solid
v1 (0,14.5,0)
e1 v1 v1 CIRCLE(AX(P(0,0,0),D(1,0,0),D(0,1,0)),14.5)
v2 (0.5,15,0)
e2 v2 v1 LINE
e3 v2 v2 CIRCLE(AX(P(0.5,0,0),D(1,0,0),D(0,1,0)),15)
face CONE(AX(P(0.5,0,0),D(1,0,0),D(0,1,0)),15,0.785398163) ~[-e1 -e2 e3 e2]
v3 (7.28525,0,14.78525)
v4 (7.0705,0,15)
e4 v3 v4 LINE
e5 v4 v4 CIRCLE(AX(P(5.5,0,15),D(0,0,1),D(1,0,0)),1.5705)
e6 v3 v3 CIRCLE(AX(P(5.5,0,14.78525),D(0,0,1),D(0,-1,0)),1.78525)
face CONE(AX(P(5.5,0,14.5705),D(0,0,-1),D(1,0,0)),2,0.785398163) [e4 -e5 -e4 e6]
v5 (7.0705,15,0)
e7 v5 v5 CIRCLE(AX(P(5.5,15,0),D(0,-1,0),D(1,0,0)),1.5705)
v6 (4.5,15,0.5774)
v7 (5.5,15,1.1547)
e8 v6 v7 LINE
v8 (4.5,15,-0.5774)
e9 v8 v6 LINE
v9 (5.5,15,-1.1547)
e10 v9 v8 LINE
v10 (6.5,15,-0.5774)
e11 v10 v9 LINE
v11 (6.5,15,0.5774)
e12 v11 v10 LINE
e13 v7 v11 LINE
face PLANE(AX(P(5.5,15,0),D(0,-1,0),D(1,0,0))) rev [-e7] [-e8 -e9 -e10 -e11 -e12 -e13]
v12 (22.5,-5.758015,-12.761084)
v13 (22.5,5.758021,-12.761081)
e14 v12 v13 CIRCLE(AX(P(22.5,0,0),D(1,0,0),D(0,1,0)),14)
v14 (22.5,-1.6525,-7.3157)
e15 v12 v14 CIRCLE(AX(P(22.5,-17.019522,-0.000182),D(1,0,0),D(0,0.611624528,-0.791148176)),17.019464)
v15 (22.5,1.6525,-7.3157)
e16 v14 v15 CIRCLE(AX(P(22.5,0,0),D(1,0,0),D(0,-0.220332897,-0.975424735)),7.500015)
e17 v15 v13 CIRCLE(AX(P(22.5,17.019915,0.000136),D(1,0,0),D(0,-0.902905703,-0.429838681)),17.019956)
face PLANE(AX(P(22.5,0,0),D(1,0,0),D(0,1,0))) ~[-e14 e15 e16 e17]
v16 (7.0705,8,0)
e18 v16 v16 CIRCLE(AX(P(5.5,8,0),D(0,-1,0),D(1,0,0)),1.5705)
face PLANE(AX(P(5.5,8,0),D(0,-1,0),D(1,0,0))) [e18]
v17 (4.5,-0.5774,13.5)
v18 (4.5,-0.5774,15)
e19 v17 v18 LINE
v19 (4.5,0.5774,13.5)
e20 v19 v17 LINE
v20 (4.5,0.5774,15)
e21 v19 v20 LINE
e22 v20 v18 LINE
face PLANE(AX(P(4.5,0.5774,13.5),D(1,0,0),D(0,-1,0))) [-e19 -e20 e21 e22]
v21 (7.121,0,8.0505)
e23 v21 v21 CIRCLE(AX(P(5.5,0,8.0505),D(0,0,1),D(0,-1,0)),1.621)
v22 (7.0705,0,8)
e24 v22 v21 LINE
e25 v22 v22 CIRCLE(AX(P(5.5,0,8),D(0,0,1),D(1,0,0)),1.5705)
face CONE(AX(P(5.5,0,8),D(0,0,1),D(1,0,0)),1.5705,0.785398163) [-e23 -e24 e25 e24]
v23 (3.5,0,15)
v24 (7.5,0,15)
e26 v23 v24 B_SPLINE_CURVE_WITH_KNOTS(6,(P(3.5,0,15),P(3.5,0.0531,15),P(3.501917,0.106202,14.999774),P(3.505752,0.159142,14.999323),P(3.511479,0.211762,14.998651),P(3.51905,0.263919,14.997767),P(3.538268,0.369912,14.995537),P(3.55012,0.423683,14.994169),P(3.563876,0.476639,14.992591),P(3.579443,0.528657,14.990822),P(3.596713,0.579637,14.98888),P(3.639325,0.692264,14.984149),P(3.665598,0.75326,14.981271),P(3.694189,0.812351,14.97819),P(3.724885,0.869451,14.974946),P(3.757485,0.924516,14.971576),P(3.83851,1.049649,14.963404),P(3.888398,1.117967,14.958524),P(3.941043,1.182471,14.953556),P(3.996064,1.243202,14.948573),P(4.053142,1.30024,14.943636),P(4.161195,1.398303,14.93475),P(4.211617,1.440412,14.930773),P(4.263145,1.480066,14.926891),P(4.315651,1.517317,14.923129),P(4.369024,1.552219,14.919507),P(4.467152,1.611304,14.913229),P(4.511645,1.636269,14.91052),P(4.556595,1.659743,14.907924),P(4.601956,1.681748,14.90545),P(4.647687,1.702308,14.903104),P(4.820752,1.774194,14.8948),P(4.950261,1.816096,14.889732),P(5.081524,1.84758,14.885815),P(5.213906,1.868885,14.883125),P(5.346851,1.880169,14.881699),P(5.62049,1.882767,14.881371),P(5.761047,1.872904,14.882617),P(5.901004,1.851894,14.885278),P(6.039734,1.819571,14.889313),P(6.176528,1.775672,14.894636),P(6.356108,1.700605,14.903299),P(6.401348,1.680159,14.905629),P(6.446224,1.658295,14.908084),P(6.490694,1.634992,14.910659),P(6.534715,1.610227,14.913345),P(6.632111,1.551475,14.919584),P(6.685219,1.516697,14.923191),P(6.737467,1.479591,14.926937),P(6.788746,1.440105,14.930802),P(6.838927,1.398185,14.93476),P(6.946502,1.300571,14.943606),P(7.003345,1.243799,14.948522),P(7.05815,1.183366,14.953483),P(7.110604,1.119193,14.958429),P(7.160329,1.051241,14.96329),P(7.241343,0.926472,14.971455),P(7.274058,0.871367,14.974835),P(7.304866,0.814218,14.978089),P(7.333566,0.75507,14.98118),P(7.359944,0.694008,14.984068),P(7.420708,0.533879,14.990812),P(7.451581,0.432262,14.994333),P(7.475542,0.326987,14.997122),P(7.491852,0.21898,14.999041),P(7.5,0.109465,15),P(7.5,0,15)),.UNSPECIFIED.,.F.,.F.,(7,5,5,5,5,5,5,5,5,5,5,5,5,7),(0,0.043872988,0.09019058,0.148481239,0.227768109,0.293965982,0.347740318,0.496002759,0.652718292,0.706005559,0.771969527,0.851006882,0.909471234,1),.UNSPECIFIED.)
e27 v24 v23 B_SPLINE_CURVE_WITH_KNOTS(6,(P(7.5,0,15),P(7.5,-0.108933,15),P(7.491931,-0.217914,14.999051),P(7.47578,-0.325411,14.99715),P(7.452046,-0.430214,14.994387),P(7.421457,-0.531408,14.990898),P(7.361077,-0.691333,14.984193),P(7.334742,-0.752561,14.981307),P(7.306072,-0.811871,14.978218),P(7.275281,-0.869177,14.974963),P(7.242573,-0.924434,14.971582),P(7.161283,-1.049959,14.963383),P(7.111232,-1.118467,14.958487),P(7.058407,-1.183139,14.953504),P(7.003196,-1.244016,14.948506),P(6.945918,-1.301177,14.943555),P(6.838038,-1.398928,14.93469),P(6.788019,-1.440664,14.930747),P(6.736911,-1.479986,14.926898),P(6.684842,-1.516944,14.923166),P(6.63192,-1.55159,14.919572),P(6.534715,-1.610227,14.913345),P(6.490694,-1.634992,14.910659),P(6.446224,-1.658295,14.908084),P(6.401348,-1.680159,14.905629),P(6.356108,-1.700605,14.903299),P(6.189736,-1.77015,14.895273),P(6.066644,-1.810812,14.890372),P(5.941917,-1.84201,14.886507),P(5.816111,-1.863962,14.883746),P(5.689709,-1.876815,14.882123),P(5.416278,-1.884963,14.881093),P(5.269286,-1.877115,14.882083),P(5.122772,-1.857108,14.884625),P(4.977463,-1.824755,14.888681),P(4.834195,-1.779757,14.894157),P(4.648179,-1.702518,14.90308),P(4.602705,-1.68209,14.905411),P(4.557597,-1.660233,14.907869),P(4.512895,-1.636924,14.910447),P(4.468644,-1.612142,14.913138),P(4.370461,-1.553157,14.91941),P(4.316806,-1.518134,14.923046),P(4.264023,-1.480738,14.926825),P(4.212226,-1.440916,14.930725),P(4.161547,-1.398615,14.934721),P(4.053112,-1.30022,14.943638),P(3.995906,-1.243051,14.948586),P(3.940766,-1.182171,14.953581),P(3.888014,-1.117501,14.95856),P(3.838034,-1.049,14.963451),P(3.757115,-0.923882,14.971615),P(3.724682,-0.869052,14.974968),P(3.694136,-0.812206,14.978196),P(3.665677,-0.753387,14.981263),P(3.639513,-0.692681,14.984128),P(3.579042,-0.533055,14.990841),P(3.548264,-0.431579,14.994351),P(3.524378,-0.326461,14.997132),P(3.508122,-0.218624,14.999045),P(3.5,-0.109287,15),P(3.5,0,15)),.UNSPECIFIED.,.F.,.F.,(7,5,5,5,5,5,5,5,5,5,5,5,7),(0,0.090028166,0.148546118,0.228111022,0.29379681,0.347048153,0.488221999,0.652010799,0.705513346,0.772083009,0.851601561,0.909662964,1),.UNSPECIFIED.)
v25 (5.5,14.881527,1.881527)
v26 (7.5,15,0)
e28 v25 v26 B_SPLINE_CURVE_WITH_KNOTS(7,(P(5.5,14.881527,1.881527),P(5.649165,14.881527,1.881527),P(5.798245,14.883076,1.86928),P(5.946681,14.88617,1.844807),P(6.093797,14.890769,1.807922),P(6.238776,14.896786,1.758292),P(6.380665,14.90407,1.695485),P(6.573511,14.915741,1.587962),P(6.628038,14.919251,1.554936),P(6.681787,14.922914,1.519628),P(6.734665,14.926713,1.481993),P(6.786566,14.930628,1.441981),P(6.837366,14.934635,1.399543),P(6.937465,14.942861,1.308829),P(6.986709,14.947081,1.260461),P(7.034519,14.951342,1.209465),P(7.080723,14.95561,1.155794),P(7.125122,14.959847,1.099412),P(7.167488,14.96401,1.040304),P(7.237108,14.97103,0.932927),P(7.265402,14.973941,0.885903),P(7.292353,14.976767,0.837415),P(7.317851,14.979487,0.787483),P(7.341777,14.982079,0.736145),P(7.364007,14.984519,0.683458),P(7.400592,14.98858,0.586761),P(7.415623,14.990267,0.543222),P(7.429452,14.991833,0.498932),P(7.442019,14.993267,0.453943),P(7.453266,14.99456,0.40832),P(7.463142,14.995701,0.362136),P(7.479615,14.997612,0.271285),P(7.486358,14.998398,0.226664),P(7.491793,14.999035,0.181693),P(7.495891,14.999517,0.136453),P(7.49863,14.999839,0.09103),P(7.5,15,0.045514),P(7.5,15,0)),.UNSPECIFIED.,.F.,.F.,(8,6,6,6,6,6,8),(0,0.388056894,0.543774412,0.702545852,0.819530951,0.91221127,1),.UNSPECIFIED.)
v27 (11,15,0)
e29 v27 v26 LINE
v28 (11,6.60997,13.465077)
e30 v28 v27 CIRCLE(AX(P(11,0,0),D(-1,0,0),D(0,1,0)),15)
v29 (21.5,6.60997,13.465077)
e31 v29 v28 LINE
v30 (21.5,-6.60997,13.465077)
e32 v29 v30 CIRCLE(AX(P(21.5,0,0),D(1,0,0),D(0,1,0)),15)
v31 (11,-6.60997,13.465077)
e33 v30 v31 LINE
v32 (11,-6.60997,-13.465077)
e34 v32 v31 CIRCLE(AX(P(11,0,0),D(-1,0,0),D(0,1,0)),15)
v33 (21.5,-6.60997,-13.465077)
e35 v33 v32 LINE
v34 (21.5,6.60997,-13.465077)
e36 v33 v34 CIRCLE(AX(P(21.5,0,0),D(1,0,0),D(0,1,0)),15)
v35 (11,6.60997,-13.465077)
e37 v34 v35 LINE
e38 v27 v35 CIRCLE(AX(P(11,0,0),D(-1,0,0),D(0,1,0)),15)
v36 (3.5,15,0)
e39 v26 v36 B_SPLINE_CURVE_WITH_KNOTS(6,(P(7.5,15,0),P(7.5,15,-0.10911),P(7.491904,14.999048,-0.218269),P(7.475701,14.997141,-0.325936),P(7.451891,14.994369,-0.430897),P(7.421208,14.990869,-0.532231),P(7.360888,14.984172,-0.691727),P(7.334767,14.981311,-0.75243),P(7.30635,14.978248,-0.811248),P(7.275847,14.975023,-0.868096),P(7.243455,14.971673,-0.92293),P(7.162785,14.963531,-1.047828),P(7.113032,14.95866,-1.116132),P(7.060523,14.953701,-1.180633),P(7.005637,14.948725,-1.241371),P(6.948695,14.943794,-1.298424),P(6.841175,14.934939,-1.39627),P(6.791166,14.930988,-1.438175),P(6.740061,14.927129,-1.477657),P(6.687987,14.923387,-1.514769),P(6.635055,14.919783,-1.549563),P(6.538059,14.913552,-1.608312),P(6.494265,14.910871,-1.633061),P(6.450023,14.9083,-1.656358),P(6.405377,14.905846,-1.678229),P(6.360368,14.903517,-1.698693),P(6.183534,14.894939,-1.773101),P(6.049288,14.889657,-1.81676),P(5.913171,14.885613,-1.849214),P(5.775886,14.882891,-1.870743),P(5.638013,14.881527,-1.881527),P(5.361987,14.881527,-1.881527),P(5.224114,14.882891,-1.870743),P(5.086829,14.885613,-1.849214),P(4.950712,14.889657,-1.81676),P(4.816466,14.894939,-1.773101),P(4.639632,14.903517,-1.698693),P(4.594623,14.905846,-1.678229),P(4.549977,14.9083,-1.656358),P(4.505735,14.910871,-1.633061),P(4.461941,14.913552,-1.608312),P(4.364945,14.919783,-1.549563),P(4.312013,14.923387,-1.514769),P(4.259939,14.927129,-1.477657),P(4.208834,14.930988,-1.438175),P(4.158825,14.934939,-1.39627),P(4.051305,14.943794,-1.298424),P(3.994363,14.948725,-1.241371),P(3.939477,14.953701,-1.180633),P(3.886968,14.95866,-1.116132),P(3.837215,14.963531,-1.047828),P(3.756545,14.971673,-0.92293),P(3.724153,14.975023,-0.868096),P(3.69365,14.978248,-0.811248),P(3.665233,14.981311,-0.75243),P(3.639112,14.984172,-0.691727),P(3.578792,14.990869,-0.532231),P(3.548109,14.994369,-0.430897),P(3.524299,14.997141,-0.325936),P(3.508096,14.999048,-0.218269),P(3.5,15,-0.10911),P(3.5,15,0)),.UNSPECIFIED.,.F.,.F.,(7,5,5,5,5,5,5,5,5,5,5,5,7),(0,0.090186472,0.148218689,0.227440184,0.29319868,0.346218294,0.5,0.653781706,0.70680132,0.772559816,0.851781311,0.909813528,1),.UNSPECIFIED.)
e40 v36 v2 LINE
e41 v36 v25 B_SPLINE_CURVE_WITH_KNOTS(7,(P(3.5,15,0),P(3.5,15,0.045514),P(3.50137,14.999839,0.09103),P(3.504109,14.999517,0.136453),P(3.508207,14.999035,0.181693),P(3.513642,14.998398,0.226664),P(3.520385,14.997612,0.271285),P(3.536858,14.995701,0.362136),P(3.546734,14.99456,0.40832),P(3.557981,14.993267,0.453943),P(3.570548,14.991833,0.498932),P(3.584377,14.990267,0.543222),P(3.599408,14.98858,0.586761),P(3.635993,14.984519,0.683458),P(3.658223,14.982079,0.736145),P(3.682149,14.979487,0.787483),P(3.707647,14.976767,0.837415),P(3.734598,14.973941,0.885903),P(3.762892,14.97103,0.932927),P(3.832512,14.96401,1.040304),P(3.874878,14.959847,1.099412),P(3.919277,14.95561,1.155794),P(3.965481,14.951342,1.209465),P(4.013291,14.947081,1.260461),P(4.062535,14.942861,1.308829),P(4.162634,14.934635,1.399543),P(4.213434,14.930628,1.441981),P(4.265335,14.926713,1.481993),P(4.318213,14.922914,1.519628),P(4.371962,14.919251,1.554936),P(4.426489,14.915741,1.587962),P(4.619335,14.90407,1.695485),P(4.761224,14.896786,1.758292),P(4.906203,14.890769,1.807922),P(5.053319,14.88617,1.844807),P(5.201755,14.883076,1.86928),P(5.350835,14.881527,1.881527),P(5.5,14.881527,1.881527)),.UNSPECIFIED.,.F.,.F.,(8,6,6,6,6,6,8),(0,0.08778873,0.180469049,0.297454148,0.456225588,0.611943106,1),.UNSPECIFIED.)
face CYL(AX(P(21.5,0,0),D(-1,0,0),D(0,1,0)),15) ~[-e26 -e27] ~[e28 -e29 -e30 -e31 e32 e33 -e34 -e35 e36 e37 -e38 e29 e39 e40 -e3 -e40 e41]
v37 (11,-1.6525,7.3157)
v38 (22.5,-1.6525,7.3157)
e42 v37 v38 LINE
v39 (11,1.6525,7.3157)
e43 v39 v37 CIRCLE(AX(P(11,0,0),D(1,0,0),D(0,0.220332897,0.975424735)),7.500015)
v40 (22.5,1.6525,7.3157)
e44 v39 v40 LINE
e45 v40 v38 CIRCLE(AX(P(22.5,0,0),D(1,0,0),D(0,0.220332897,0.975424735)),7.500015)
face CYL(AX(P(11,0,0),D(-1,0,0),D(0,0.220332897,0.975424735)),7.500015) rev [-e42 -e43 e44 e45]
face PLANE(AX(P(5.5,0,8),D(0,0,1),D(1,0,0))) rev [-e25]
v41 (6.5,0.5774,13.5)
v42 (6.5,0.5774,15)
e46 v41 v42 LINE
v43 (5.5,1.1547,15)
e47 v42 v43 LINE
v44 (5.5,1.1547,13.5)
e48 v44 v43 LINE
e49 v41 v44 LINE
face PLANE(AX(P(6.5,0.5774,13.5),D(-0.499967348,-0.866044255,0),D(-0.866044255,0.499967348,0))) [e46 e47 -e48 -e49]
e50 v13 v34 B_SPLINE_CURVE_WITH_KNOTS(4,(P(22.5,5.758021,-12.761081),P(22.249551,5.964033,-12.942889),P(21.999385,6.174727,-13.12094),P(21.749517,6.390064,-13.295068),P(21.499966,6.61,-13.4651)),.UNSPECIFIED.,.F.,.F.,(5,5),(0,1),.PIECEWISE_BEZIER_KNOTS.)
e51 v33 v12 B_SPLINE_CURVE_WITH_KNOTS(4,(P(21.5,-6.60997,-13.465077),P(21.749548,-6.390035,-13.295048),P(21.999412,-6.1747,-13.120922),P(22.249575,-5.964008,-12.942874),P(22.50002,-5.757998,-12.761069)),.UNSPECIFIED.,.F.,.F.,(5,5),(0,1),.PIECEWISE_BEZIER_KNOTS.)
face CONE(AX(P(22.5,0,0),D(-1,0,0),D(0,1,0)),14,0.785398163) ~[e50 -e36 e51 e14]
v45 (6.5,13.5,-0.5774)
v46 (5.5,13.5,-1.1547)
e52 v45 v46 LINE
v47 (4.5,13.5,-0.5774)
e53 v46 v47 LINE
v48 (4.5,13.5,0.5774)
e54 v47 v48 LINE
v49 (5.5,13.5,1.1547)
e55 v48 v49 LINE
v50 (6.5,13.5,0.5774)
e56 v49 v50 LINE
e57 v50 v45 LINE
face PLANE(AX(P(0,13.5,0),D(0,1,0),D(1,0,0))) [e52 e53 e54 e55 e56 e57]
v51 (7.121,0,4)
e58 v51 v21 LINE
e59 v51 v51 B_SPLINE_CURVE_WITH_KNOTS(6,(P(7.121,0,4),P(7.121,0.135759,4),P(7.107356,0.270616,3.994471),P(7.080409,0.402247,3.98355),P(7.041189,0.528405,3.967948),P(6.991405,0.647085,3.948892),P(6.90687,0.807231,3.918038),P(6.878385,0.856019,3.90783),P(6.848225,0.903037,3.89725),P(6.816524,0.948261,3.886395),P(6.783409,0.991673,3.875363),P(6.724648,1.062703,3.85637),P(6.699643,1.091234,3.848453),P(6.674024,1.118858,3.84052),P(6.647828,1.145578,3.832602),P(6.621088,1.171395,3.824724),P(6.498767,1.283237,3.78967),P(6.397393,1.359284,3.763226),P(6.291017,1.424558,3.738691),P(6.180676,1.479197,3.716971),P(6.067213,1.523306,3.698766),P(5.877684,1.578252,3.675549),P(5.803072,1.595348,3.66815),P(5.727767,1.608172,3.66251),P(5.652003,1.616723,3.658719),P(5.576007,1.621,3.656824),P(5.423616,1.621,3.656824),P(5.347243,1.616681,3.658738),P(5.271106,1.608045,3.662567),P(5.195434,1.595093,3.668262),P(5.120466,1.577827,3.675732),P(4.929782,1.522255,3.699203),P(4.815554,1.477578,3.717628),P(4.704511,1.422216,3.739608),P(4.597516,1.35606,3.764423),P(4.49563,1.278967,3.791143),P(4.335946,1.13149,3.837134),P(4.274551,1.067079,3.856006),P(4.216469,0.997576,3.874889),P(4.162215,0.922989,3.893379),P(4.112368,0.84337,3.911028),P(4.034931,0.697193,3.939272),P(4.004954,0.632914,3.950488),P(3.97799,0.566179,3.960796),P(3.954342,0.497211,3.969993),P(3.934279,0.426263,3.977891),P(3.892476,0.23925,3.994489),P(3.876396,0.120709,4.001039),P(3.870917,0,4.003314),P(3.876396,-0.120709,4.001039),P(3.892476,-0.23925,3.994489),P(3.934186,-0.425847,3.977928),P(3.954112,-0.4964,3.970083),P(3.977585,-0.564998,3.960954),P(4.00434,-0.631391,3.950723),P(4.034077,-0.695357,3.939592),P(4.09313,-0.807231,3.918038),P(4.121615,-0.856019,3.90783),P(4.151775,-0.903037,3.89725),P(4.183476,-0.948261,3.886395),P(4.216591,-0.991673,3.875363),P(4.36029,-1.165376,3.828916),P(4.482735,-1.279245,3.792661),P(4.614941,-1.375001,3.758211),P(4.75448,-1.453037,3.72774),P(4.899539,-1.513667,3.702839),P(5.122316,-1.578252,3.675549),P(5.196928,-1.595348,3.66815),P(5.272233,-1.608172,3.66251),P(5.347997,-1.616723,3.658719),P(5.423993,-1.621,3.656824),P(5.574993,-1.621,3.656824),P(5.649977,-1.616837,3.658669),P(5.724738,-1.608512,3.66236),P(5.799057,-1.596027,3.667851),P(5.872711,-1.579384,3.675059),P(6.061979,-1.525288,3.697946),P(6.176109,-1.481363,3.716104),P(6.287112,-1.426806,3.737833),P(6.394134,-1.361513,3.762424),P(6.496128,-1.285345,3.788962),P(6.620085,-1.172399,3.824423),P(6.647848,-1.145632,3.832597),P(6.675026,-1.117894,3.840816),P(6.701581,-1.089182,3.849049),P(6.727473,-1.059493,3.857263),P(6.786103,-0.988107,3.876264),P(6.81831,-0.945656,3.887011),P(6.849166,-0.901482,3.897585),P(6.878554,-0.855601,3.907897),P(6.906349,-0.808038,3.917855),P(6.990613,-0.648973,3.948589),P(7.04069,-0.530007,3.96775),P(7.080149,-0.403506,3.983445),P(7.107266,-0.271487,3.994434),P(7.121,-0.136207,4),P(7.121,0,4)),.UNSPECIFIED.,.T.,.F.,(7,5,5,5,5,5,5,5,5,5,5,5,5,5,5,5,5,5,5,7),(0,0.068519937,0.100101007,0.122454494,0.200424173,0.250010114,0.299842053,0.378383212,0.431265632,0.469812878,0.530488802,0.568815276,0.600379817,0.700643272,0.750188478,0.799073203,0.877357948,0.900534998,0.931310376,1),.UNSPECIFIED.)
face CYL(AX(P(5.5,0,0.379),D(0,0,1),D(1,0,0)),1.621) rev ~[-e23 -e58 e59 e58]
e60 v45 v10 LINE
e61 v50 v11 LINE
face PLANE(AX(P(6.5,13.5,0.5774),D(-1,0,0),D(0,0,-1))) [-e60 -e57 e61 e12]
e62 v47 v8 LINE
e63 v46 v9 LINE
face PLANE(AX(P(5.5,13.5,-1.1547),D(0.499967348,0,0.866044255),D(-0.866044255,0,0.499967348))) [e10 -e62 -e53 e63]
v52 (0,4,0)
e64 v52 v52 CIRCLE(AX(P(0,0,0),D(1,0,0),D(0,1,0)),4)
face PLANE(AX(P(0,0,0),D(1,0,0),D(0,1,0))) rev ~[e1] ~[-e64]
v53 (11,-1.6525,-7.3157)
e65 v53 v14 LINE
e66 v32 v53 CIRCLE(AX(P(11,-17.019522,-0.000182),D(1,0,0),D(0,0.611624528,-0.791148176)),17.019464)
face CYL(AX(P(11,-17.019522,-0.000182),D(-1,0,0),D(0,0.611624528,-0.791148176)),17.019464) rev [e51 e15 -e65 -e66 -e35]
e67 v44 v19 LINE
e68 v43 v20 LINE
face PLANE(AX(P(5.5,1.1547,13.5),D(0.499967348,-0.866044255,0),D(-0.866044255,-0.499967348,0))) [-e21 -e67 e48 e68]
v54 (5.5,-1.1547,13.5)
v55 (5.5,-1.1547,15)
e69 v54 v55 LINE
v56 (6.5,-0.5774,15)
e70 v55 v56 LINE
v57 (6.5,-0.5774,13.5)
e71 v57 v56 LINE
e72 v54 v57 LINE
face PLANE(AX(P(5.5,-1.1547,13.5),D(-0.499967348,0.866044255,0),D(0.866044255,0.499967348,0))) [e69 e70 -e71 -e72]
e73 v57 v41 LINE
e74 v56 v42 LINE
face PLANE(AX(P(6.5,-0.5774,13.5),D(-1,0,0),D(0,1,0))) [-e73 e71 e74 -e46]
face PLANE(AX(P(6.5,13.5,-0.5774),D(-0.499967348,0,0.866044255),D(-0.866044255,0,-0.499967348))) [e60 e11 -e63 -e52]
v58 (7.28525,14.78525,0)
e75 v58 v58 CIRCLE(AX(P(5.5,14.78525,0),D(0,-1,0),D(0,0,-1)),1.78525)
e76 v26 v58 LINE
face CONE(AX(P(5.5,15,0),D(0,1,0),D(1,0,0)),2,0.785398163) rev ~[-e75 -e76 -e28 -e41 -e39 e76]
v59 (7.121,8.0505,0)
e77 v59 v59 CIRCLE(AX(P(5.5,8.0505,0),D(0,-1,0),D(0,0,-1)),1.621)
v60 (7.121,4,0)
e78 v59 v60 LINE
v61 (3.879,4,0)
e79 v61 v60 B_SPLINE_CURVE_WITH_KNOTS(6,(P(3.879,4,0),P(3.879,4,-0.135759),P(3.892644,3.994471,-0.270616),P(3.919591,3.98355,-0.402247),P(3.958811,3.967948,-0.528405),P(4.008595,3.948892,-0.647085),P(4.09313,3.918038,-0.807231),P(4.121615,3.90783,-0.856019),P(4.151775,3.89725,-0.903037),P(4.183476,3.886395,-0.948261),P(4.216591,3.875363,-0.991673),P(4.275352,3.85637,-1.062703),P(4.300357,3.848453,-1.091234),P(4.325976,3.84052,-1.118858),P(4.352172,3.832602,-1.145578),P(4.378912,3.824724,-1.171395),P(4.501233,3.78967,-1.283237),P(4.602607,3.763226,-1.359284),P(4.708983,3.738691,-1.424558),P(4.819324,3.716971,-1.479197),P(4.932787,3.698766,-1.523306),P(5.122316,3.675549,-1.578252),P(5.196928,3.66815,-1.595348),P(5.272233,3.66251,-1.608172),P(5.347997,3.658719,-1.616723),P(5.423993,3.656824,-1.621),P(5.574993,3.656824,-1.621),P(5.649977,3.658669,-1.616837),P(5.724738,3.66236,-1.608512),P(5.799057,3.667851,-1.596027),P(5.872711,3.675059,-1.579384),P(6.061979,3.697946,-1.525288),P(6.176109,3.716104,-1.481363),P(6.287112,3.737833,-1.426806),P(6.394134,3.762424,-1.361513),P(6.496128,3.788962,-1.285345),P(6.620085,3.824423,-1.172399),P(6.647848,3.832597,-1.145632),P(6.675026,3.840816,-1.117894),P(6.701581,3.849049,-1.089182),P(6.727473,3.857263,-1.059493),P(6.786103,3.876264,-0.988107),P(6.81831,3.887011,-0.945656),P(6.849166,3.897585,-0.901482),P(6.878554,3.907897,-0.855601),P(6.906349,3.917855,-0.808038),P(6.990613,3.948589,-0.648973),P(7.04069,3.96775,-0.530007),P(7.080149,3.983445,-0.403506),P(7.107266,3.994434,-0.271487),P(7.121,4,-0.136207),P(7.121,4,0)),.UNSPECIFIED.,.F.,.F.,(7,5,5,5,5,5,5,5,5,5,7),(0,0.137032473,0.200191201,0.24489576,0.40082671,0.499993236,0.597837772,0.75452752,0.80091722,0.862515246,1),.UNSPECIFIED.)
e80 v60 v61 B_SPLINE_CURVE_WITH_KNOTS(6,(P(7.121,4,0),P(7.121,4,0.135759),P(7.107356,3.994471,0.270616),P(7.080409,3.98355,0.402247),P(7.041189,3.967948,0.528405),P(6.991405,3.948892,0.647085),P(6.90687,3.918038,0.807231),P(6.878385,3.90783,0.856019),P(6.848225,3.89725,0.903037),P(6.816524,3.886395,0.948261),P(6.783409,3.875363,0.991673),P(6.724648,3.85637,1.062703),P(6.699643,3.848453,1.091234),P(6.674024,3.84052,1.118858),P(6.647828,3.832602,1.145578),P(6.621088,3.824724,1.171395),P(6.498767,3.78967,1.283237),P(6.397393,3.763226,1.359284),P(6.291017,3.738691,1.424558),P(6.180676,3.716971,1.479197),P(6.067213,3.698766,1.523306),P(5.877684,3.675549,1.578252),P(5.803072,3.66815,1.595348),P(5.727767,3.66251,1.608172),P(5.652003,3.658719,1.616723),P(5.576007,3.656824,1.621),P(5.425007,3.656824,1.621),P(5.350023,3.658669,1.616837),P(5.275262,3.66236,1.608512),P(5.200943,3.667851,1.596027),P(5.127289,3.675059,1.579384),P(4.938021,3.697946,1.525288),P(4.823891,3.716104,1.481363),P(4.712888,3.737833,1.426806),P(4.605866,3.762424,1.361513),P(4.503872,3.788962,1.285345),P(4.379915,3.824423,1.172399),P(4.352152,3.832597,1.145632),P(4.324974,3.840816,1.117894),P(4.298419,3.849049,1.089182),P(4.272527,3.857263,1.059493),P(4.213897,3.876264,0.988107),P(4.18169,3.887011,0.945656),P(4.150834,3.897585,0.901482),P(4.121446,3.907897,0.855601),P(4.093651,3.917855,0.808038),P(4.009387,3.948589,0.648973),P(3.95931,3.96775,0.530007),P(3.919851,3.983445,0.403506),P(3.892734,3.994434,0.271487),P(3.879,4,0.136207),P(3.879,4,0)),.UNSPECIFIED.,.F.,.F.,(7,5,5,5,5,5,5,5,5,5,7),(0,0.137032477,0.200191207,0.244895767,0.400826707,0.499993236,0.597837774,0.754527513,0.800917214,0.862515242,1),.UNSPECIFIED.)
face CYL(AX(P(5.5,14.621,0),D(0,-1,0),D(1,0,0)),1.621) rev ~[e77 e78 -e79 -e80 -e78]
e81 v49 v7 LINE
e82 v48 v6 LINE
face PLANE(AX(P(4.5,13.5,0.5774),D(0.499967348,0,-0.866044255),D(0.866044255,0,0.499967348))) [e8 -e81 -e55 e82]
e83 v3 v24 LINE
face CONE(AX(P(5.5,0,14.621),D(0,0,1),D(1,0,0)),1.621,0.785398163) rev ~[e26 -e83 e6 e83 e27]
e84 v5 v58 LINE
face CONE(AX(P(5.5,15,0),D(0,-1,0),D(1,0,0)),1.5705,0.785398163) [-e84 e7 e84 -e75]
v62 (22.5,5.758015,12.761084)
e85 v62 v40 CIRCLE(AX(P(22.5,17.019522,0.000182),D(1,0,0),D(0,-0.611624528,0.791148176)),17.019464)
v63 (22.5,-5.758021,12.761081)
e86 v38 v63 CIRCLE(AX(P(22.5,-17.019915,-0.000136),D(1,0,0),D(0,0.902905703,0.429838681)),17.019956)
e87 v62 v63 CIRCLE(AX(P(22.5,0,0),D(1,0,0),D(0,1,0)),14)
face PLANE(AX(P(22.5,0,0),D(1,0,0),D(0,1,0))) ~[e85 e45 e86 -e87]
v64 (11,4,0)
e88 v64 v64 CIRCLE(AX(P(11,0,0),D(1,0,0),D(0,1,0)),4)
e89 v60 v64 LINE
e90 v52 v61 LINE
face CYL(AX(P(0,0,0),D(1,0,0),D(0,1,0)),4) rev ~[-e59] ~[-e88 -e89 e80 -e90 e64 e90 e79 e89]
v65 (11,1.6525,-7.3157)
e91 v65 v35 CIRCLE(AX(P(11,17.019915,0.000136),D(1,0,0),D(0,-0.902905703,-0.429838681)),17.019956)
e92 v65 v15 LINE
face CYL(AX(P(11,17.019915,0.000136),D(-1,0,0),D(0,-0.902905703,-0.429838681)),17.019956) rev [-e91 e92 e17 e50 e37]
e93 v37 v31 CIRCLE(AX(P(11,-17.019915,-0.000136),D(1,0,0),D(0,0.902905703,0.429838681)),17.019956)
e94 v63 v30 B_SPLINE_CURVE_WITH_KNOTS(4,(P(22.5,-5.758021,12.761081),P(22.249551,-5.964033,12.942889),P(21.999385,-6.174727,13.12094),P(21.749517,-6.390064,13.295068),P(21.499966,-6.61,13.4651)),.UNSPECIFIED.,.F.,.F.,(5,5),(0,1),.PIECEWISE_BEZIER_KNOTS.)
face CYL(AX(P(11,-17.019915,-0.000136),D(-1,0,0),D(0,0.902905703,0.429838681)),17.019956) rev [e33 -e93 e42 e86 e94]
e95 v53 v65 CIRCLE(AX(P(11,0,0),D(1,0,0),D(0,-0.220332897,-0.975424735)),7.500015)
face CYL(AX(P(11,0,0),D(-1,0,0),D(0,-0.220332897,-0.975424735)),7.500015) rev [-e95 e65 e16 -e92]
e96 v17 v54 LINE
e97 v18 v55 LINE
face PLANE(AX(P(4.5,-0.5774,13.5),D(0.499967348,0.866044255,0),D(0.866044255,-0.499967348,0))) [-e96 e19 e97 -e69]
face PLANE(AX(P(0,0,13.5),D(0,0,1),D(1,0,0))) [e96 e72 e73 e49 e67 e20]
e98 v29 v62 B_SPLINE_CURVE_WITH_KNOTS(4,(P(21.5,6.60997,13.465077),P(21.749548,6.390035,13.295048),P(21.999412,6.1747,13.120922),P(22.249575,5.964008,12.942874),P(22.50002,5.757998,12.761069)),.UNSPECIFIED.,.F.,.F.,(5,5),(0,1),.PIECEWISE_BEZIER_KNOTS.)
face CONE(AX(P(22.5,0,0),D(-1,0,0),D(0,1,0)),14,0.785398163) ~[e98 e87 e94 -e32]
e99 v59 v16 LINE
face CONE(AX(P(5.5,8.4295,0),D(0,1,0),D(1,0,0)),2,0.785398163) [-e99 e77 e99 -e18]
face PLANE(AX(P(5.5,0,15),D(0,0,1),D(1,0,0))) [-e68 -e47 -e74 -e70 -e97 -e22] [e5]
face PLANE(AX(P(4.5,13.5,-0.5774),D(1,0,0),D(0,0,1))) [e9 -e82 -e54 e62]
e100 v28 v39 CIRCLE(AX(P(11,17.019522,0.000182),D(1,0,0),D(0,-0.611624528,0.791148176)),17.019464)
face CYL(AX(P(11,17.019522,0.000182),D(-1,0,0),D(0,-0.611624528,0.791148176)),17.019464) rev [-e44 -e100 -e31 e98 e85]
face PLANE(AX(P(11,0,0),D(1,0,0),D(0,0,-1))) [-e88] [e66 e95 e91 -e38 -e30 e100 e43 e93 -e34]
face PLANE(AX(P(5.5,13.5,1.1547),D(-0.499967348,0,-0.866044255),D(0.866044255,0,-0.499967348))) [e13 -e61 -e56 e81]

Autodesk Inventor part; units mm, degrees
sketch "Sketch_1" plane through (0, 0, 0) normal (0, 0, 1) x (1, 0, 0)
  line L0 (22.5, 0) -> (0, 0)
  line L1 (0, 14.5) -> (0, 4)
  line L2 (0, 4) -> (22.5, 4)
  line L3 (22.5, 4) -> (22.5, 14)
  line L4 (22.5, 14) -> (21.5, 15)
  line L5 (21.5, 15) -> (0.5, 15)
  line L6 (0.5, 15) -> (0, 14.5)
revolve "Revolution1" add sketch "Sketch_1" angle 360 about axis through (22.5, 0, 0) along (1, 0, 0)
sketch "Sketch_2" plane through (11, 0, 0) normal (1, 0, 0) x (0, 0, -1)
  arc A0 (-13.4651, -6.61) -> (13.4651, -6.61) centre (0, 0) ccw
  arc A1 (13.4651, -6.61) -> (7.3157, -1.6525) centre (0, -17.0197) ccw
  arc A2 (7.3157, -1.6525) -> (7.3157, 1.6525) centre (0, 0) ccw
  arc A3 (7.3157, 1.6525) -> (13.4651, 6.61) centre (0, 17.0197) ccw
  arc A4 (13.4651, 6.61) -> (-13.4651, 6.61) centre (0, 0) ccw
  arc A5 (-13.4651, 6.61) -> (-7.3157, 1.6525) centre (0, 17.0197) ccw
  arc A6 (-7.3157, 1.6525) -> (-7.3157, -1.6525) centre (0, 0) ccw
  arc A7 (-7.3157, -1.6525) -> (-13.4651, -6.61) centre (0, -17.0197) ccw
extrude "Extrusion1" cut sketch "Sketch_2" along normal blind 11.5
sketch "Sketch_7" plane through (0, 0, 0) normal (0, 0, 1) x (1, 0, 0)
  line L0 (5.5, 0) -> (5.5, 15)
  line L1 (5.5, 15) -> (7.5, 15)
  line L2 (7.5, 15) -> (7.121, 14.621)
  line L3 (7.121, 14.621) -> (7.121, 0.379)
  line L4 (7.121, 0.379) -> (7.5, 0)
  line L5 (7.5, 0) -> (5.5, 0)
  line L6 (5.5, 0) -> (5.5, 15)
revolve "Revolution2" cut sketch "Sketch_7" angle 360 about axis through (5.5, 0, 0) along (0, -1, 0)
sketch "Sketch_8" plane through (0, 0, 0) normal (0, 1, 0) x (-1, 0, 0)
  line L0 (-5.5, 15) -> (-5.5, 0)
  line L1 (-5.5, 0) -> (-7.5, 0)
  line L2 (-7.5, 0) -> (-7.121, 0.379)
  line L3 (-7.121, 0.379) -> (-7.121, 14.621)
  line L4 (-7.121, 14.621) -> (-7.5, 15)
  line L5 (-7.5, 15) -> (-5.5, 15)
  line L6 (-5.5, 15) -> (-5.5, 0)
revolve "Revolution3" cut sketch "Sketch_8" angle 360 about axis through (5.5, 0, 15) along (0, 0, 1)
sketch "Sketch_12" plane through (0, 0, 0) normal (0, 0, 1) x (1, 0, 0)
  line L0 (5.5, 8) -> (5.5, 15)
  line L1 (5.5, 15) -> (7.0705, 15)
  line L2 (7.0705, 15) -> (7.5, 14.5705)
  line L3 (7.5, 14.5705) -> (7.5, 8.4295)
  line L4 (7.5, 8.4295) -> (7.0705, 8)
  line L5 (7.0705, 8) -> (5.5, 8)
  line L6 (5.5, 8) -> (5.5, 15)
revolve "Revolution4" add sketch "Sketch_12" angle 360 about axis through (5.5, 8, 0) along (0, -1, 0)
sketch "Sketch_13" plane through (0, 0, 0) normal (0, 1, 0) x (-1, 0, 0)
  line L0 (-5.5, 15) -> (-5.5, 8)
  line L1 (-5.5, 8) -> (-7.0705, 8)
  line L2 (-7.0705, 8) -> (-7.5, 8.4295)
  line L3 (-7.5, 8.4295) -> (-7.5, 14.5705)
  line L4 (-7.5, 14.5705) -> (-7.0705, 15)
  line L5 (-7.0705, 15) -> (-5.5, 15)
  line L6 (-5.5, 15) -> (-5.5, 8)
revolve "Revolution5" add sketch "Sketch_13" angle 360 about axis through (5.5, 0, 15) along (0, 0, 1)
sketch "Sketch_14" plane through (0, 13.5, 0) normal (0, 1, 0) x (1, 0, 0)
  line L0 (4.5, -0.5774) -> (5.5, -1.1547)
  line L1 (5.5, -1.1547) -> (6.5, -0.5774)
  line L2 (6.5, -0.5774) -> (6.5, 0.5774)
  line L3 (6.5, 0.5774) -> (5.5, 1.1547)
  line L4 (5.5, 1.1547) -> (4.5, 0.5774)
  line L5 (4.5, 0.5774) -> (4.5, -0.5774)
extrude "Extrusion2" cut sketch "Sketch_14" along normal blind 1.5
sketch "Sketch_15" plane through (0, 0, 13.5) normal (0, 0, 1) x (1, 0, 0)
  line L0 (4.5, -0.5774) -> (5.5, -1.1547)
  line L1 (5.5, -1.1547) -> (6.5, -0.5774)
  line L2 (6.5, -0.5774) -> (6.5, 0.5774)
  line L3 (6.5, 0.5774) -> (5.5, 1.1547)
  line L4 (5.5, 1.1547) -> (4.5, 0.5774)
  line L5 (4.5, 0.5774) -> (4.5, -0.5774)
extrude "Extrusion3" cut sketch "Sketch_15" along normal blind 1.5
ref_plane "part1a_XY" through (0, 0, 0) normal (1, 0, 0) x (0, 0, -1)
ref_plane "part1a_YZ" through (0, 0, 0) normal (0, 0, -1) x (0, 1, 0)
ref_plane "part1a_ZX" through (0, 0, 0) normal (0, 1, 0) x (1, 0, 0)
ref_plane "part1b_XY" through (12.5, 0, 0) normal (1, 0, 0) x (0, 0, -1)
ref_plane "part1b_YZ" through (12.5, 0, 0) normal (0, 0, -1) x (0, 1, 0)
ref_plane "part1b_ZX" through (12.5, 0, 0) normal (0, 1, 0) x (1, 0, 0)
ref_plane "part1c_XY" through (22.5, 0, 0) normal (1, 0, 0) x (0, 0, -1)
ref_plane "part1c_YZ" through (22.5, 0, 0) normal (0, 0, -1) x (0, 1, 0)
ref_plane "part1c_ZX" through (22.5, 0, 0) normal (0, 1, 0) x (1, 0, 0)
properties part number "MJT-30-BL-8-12 Hub 1"
